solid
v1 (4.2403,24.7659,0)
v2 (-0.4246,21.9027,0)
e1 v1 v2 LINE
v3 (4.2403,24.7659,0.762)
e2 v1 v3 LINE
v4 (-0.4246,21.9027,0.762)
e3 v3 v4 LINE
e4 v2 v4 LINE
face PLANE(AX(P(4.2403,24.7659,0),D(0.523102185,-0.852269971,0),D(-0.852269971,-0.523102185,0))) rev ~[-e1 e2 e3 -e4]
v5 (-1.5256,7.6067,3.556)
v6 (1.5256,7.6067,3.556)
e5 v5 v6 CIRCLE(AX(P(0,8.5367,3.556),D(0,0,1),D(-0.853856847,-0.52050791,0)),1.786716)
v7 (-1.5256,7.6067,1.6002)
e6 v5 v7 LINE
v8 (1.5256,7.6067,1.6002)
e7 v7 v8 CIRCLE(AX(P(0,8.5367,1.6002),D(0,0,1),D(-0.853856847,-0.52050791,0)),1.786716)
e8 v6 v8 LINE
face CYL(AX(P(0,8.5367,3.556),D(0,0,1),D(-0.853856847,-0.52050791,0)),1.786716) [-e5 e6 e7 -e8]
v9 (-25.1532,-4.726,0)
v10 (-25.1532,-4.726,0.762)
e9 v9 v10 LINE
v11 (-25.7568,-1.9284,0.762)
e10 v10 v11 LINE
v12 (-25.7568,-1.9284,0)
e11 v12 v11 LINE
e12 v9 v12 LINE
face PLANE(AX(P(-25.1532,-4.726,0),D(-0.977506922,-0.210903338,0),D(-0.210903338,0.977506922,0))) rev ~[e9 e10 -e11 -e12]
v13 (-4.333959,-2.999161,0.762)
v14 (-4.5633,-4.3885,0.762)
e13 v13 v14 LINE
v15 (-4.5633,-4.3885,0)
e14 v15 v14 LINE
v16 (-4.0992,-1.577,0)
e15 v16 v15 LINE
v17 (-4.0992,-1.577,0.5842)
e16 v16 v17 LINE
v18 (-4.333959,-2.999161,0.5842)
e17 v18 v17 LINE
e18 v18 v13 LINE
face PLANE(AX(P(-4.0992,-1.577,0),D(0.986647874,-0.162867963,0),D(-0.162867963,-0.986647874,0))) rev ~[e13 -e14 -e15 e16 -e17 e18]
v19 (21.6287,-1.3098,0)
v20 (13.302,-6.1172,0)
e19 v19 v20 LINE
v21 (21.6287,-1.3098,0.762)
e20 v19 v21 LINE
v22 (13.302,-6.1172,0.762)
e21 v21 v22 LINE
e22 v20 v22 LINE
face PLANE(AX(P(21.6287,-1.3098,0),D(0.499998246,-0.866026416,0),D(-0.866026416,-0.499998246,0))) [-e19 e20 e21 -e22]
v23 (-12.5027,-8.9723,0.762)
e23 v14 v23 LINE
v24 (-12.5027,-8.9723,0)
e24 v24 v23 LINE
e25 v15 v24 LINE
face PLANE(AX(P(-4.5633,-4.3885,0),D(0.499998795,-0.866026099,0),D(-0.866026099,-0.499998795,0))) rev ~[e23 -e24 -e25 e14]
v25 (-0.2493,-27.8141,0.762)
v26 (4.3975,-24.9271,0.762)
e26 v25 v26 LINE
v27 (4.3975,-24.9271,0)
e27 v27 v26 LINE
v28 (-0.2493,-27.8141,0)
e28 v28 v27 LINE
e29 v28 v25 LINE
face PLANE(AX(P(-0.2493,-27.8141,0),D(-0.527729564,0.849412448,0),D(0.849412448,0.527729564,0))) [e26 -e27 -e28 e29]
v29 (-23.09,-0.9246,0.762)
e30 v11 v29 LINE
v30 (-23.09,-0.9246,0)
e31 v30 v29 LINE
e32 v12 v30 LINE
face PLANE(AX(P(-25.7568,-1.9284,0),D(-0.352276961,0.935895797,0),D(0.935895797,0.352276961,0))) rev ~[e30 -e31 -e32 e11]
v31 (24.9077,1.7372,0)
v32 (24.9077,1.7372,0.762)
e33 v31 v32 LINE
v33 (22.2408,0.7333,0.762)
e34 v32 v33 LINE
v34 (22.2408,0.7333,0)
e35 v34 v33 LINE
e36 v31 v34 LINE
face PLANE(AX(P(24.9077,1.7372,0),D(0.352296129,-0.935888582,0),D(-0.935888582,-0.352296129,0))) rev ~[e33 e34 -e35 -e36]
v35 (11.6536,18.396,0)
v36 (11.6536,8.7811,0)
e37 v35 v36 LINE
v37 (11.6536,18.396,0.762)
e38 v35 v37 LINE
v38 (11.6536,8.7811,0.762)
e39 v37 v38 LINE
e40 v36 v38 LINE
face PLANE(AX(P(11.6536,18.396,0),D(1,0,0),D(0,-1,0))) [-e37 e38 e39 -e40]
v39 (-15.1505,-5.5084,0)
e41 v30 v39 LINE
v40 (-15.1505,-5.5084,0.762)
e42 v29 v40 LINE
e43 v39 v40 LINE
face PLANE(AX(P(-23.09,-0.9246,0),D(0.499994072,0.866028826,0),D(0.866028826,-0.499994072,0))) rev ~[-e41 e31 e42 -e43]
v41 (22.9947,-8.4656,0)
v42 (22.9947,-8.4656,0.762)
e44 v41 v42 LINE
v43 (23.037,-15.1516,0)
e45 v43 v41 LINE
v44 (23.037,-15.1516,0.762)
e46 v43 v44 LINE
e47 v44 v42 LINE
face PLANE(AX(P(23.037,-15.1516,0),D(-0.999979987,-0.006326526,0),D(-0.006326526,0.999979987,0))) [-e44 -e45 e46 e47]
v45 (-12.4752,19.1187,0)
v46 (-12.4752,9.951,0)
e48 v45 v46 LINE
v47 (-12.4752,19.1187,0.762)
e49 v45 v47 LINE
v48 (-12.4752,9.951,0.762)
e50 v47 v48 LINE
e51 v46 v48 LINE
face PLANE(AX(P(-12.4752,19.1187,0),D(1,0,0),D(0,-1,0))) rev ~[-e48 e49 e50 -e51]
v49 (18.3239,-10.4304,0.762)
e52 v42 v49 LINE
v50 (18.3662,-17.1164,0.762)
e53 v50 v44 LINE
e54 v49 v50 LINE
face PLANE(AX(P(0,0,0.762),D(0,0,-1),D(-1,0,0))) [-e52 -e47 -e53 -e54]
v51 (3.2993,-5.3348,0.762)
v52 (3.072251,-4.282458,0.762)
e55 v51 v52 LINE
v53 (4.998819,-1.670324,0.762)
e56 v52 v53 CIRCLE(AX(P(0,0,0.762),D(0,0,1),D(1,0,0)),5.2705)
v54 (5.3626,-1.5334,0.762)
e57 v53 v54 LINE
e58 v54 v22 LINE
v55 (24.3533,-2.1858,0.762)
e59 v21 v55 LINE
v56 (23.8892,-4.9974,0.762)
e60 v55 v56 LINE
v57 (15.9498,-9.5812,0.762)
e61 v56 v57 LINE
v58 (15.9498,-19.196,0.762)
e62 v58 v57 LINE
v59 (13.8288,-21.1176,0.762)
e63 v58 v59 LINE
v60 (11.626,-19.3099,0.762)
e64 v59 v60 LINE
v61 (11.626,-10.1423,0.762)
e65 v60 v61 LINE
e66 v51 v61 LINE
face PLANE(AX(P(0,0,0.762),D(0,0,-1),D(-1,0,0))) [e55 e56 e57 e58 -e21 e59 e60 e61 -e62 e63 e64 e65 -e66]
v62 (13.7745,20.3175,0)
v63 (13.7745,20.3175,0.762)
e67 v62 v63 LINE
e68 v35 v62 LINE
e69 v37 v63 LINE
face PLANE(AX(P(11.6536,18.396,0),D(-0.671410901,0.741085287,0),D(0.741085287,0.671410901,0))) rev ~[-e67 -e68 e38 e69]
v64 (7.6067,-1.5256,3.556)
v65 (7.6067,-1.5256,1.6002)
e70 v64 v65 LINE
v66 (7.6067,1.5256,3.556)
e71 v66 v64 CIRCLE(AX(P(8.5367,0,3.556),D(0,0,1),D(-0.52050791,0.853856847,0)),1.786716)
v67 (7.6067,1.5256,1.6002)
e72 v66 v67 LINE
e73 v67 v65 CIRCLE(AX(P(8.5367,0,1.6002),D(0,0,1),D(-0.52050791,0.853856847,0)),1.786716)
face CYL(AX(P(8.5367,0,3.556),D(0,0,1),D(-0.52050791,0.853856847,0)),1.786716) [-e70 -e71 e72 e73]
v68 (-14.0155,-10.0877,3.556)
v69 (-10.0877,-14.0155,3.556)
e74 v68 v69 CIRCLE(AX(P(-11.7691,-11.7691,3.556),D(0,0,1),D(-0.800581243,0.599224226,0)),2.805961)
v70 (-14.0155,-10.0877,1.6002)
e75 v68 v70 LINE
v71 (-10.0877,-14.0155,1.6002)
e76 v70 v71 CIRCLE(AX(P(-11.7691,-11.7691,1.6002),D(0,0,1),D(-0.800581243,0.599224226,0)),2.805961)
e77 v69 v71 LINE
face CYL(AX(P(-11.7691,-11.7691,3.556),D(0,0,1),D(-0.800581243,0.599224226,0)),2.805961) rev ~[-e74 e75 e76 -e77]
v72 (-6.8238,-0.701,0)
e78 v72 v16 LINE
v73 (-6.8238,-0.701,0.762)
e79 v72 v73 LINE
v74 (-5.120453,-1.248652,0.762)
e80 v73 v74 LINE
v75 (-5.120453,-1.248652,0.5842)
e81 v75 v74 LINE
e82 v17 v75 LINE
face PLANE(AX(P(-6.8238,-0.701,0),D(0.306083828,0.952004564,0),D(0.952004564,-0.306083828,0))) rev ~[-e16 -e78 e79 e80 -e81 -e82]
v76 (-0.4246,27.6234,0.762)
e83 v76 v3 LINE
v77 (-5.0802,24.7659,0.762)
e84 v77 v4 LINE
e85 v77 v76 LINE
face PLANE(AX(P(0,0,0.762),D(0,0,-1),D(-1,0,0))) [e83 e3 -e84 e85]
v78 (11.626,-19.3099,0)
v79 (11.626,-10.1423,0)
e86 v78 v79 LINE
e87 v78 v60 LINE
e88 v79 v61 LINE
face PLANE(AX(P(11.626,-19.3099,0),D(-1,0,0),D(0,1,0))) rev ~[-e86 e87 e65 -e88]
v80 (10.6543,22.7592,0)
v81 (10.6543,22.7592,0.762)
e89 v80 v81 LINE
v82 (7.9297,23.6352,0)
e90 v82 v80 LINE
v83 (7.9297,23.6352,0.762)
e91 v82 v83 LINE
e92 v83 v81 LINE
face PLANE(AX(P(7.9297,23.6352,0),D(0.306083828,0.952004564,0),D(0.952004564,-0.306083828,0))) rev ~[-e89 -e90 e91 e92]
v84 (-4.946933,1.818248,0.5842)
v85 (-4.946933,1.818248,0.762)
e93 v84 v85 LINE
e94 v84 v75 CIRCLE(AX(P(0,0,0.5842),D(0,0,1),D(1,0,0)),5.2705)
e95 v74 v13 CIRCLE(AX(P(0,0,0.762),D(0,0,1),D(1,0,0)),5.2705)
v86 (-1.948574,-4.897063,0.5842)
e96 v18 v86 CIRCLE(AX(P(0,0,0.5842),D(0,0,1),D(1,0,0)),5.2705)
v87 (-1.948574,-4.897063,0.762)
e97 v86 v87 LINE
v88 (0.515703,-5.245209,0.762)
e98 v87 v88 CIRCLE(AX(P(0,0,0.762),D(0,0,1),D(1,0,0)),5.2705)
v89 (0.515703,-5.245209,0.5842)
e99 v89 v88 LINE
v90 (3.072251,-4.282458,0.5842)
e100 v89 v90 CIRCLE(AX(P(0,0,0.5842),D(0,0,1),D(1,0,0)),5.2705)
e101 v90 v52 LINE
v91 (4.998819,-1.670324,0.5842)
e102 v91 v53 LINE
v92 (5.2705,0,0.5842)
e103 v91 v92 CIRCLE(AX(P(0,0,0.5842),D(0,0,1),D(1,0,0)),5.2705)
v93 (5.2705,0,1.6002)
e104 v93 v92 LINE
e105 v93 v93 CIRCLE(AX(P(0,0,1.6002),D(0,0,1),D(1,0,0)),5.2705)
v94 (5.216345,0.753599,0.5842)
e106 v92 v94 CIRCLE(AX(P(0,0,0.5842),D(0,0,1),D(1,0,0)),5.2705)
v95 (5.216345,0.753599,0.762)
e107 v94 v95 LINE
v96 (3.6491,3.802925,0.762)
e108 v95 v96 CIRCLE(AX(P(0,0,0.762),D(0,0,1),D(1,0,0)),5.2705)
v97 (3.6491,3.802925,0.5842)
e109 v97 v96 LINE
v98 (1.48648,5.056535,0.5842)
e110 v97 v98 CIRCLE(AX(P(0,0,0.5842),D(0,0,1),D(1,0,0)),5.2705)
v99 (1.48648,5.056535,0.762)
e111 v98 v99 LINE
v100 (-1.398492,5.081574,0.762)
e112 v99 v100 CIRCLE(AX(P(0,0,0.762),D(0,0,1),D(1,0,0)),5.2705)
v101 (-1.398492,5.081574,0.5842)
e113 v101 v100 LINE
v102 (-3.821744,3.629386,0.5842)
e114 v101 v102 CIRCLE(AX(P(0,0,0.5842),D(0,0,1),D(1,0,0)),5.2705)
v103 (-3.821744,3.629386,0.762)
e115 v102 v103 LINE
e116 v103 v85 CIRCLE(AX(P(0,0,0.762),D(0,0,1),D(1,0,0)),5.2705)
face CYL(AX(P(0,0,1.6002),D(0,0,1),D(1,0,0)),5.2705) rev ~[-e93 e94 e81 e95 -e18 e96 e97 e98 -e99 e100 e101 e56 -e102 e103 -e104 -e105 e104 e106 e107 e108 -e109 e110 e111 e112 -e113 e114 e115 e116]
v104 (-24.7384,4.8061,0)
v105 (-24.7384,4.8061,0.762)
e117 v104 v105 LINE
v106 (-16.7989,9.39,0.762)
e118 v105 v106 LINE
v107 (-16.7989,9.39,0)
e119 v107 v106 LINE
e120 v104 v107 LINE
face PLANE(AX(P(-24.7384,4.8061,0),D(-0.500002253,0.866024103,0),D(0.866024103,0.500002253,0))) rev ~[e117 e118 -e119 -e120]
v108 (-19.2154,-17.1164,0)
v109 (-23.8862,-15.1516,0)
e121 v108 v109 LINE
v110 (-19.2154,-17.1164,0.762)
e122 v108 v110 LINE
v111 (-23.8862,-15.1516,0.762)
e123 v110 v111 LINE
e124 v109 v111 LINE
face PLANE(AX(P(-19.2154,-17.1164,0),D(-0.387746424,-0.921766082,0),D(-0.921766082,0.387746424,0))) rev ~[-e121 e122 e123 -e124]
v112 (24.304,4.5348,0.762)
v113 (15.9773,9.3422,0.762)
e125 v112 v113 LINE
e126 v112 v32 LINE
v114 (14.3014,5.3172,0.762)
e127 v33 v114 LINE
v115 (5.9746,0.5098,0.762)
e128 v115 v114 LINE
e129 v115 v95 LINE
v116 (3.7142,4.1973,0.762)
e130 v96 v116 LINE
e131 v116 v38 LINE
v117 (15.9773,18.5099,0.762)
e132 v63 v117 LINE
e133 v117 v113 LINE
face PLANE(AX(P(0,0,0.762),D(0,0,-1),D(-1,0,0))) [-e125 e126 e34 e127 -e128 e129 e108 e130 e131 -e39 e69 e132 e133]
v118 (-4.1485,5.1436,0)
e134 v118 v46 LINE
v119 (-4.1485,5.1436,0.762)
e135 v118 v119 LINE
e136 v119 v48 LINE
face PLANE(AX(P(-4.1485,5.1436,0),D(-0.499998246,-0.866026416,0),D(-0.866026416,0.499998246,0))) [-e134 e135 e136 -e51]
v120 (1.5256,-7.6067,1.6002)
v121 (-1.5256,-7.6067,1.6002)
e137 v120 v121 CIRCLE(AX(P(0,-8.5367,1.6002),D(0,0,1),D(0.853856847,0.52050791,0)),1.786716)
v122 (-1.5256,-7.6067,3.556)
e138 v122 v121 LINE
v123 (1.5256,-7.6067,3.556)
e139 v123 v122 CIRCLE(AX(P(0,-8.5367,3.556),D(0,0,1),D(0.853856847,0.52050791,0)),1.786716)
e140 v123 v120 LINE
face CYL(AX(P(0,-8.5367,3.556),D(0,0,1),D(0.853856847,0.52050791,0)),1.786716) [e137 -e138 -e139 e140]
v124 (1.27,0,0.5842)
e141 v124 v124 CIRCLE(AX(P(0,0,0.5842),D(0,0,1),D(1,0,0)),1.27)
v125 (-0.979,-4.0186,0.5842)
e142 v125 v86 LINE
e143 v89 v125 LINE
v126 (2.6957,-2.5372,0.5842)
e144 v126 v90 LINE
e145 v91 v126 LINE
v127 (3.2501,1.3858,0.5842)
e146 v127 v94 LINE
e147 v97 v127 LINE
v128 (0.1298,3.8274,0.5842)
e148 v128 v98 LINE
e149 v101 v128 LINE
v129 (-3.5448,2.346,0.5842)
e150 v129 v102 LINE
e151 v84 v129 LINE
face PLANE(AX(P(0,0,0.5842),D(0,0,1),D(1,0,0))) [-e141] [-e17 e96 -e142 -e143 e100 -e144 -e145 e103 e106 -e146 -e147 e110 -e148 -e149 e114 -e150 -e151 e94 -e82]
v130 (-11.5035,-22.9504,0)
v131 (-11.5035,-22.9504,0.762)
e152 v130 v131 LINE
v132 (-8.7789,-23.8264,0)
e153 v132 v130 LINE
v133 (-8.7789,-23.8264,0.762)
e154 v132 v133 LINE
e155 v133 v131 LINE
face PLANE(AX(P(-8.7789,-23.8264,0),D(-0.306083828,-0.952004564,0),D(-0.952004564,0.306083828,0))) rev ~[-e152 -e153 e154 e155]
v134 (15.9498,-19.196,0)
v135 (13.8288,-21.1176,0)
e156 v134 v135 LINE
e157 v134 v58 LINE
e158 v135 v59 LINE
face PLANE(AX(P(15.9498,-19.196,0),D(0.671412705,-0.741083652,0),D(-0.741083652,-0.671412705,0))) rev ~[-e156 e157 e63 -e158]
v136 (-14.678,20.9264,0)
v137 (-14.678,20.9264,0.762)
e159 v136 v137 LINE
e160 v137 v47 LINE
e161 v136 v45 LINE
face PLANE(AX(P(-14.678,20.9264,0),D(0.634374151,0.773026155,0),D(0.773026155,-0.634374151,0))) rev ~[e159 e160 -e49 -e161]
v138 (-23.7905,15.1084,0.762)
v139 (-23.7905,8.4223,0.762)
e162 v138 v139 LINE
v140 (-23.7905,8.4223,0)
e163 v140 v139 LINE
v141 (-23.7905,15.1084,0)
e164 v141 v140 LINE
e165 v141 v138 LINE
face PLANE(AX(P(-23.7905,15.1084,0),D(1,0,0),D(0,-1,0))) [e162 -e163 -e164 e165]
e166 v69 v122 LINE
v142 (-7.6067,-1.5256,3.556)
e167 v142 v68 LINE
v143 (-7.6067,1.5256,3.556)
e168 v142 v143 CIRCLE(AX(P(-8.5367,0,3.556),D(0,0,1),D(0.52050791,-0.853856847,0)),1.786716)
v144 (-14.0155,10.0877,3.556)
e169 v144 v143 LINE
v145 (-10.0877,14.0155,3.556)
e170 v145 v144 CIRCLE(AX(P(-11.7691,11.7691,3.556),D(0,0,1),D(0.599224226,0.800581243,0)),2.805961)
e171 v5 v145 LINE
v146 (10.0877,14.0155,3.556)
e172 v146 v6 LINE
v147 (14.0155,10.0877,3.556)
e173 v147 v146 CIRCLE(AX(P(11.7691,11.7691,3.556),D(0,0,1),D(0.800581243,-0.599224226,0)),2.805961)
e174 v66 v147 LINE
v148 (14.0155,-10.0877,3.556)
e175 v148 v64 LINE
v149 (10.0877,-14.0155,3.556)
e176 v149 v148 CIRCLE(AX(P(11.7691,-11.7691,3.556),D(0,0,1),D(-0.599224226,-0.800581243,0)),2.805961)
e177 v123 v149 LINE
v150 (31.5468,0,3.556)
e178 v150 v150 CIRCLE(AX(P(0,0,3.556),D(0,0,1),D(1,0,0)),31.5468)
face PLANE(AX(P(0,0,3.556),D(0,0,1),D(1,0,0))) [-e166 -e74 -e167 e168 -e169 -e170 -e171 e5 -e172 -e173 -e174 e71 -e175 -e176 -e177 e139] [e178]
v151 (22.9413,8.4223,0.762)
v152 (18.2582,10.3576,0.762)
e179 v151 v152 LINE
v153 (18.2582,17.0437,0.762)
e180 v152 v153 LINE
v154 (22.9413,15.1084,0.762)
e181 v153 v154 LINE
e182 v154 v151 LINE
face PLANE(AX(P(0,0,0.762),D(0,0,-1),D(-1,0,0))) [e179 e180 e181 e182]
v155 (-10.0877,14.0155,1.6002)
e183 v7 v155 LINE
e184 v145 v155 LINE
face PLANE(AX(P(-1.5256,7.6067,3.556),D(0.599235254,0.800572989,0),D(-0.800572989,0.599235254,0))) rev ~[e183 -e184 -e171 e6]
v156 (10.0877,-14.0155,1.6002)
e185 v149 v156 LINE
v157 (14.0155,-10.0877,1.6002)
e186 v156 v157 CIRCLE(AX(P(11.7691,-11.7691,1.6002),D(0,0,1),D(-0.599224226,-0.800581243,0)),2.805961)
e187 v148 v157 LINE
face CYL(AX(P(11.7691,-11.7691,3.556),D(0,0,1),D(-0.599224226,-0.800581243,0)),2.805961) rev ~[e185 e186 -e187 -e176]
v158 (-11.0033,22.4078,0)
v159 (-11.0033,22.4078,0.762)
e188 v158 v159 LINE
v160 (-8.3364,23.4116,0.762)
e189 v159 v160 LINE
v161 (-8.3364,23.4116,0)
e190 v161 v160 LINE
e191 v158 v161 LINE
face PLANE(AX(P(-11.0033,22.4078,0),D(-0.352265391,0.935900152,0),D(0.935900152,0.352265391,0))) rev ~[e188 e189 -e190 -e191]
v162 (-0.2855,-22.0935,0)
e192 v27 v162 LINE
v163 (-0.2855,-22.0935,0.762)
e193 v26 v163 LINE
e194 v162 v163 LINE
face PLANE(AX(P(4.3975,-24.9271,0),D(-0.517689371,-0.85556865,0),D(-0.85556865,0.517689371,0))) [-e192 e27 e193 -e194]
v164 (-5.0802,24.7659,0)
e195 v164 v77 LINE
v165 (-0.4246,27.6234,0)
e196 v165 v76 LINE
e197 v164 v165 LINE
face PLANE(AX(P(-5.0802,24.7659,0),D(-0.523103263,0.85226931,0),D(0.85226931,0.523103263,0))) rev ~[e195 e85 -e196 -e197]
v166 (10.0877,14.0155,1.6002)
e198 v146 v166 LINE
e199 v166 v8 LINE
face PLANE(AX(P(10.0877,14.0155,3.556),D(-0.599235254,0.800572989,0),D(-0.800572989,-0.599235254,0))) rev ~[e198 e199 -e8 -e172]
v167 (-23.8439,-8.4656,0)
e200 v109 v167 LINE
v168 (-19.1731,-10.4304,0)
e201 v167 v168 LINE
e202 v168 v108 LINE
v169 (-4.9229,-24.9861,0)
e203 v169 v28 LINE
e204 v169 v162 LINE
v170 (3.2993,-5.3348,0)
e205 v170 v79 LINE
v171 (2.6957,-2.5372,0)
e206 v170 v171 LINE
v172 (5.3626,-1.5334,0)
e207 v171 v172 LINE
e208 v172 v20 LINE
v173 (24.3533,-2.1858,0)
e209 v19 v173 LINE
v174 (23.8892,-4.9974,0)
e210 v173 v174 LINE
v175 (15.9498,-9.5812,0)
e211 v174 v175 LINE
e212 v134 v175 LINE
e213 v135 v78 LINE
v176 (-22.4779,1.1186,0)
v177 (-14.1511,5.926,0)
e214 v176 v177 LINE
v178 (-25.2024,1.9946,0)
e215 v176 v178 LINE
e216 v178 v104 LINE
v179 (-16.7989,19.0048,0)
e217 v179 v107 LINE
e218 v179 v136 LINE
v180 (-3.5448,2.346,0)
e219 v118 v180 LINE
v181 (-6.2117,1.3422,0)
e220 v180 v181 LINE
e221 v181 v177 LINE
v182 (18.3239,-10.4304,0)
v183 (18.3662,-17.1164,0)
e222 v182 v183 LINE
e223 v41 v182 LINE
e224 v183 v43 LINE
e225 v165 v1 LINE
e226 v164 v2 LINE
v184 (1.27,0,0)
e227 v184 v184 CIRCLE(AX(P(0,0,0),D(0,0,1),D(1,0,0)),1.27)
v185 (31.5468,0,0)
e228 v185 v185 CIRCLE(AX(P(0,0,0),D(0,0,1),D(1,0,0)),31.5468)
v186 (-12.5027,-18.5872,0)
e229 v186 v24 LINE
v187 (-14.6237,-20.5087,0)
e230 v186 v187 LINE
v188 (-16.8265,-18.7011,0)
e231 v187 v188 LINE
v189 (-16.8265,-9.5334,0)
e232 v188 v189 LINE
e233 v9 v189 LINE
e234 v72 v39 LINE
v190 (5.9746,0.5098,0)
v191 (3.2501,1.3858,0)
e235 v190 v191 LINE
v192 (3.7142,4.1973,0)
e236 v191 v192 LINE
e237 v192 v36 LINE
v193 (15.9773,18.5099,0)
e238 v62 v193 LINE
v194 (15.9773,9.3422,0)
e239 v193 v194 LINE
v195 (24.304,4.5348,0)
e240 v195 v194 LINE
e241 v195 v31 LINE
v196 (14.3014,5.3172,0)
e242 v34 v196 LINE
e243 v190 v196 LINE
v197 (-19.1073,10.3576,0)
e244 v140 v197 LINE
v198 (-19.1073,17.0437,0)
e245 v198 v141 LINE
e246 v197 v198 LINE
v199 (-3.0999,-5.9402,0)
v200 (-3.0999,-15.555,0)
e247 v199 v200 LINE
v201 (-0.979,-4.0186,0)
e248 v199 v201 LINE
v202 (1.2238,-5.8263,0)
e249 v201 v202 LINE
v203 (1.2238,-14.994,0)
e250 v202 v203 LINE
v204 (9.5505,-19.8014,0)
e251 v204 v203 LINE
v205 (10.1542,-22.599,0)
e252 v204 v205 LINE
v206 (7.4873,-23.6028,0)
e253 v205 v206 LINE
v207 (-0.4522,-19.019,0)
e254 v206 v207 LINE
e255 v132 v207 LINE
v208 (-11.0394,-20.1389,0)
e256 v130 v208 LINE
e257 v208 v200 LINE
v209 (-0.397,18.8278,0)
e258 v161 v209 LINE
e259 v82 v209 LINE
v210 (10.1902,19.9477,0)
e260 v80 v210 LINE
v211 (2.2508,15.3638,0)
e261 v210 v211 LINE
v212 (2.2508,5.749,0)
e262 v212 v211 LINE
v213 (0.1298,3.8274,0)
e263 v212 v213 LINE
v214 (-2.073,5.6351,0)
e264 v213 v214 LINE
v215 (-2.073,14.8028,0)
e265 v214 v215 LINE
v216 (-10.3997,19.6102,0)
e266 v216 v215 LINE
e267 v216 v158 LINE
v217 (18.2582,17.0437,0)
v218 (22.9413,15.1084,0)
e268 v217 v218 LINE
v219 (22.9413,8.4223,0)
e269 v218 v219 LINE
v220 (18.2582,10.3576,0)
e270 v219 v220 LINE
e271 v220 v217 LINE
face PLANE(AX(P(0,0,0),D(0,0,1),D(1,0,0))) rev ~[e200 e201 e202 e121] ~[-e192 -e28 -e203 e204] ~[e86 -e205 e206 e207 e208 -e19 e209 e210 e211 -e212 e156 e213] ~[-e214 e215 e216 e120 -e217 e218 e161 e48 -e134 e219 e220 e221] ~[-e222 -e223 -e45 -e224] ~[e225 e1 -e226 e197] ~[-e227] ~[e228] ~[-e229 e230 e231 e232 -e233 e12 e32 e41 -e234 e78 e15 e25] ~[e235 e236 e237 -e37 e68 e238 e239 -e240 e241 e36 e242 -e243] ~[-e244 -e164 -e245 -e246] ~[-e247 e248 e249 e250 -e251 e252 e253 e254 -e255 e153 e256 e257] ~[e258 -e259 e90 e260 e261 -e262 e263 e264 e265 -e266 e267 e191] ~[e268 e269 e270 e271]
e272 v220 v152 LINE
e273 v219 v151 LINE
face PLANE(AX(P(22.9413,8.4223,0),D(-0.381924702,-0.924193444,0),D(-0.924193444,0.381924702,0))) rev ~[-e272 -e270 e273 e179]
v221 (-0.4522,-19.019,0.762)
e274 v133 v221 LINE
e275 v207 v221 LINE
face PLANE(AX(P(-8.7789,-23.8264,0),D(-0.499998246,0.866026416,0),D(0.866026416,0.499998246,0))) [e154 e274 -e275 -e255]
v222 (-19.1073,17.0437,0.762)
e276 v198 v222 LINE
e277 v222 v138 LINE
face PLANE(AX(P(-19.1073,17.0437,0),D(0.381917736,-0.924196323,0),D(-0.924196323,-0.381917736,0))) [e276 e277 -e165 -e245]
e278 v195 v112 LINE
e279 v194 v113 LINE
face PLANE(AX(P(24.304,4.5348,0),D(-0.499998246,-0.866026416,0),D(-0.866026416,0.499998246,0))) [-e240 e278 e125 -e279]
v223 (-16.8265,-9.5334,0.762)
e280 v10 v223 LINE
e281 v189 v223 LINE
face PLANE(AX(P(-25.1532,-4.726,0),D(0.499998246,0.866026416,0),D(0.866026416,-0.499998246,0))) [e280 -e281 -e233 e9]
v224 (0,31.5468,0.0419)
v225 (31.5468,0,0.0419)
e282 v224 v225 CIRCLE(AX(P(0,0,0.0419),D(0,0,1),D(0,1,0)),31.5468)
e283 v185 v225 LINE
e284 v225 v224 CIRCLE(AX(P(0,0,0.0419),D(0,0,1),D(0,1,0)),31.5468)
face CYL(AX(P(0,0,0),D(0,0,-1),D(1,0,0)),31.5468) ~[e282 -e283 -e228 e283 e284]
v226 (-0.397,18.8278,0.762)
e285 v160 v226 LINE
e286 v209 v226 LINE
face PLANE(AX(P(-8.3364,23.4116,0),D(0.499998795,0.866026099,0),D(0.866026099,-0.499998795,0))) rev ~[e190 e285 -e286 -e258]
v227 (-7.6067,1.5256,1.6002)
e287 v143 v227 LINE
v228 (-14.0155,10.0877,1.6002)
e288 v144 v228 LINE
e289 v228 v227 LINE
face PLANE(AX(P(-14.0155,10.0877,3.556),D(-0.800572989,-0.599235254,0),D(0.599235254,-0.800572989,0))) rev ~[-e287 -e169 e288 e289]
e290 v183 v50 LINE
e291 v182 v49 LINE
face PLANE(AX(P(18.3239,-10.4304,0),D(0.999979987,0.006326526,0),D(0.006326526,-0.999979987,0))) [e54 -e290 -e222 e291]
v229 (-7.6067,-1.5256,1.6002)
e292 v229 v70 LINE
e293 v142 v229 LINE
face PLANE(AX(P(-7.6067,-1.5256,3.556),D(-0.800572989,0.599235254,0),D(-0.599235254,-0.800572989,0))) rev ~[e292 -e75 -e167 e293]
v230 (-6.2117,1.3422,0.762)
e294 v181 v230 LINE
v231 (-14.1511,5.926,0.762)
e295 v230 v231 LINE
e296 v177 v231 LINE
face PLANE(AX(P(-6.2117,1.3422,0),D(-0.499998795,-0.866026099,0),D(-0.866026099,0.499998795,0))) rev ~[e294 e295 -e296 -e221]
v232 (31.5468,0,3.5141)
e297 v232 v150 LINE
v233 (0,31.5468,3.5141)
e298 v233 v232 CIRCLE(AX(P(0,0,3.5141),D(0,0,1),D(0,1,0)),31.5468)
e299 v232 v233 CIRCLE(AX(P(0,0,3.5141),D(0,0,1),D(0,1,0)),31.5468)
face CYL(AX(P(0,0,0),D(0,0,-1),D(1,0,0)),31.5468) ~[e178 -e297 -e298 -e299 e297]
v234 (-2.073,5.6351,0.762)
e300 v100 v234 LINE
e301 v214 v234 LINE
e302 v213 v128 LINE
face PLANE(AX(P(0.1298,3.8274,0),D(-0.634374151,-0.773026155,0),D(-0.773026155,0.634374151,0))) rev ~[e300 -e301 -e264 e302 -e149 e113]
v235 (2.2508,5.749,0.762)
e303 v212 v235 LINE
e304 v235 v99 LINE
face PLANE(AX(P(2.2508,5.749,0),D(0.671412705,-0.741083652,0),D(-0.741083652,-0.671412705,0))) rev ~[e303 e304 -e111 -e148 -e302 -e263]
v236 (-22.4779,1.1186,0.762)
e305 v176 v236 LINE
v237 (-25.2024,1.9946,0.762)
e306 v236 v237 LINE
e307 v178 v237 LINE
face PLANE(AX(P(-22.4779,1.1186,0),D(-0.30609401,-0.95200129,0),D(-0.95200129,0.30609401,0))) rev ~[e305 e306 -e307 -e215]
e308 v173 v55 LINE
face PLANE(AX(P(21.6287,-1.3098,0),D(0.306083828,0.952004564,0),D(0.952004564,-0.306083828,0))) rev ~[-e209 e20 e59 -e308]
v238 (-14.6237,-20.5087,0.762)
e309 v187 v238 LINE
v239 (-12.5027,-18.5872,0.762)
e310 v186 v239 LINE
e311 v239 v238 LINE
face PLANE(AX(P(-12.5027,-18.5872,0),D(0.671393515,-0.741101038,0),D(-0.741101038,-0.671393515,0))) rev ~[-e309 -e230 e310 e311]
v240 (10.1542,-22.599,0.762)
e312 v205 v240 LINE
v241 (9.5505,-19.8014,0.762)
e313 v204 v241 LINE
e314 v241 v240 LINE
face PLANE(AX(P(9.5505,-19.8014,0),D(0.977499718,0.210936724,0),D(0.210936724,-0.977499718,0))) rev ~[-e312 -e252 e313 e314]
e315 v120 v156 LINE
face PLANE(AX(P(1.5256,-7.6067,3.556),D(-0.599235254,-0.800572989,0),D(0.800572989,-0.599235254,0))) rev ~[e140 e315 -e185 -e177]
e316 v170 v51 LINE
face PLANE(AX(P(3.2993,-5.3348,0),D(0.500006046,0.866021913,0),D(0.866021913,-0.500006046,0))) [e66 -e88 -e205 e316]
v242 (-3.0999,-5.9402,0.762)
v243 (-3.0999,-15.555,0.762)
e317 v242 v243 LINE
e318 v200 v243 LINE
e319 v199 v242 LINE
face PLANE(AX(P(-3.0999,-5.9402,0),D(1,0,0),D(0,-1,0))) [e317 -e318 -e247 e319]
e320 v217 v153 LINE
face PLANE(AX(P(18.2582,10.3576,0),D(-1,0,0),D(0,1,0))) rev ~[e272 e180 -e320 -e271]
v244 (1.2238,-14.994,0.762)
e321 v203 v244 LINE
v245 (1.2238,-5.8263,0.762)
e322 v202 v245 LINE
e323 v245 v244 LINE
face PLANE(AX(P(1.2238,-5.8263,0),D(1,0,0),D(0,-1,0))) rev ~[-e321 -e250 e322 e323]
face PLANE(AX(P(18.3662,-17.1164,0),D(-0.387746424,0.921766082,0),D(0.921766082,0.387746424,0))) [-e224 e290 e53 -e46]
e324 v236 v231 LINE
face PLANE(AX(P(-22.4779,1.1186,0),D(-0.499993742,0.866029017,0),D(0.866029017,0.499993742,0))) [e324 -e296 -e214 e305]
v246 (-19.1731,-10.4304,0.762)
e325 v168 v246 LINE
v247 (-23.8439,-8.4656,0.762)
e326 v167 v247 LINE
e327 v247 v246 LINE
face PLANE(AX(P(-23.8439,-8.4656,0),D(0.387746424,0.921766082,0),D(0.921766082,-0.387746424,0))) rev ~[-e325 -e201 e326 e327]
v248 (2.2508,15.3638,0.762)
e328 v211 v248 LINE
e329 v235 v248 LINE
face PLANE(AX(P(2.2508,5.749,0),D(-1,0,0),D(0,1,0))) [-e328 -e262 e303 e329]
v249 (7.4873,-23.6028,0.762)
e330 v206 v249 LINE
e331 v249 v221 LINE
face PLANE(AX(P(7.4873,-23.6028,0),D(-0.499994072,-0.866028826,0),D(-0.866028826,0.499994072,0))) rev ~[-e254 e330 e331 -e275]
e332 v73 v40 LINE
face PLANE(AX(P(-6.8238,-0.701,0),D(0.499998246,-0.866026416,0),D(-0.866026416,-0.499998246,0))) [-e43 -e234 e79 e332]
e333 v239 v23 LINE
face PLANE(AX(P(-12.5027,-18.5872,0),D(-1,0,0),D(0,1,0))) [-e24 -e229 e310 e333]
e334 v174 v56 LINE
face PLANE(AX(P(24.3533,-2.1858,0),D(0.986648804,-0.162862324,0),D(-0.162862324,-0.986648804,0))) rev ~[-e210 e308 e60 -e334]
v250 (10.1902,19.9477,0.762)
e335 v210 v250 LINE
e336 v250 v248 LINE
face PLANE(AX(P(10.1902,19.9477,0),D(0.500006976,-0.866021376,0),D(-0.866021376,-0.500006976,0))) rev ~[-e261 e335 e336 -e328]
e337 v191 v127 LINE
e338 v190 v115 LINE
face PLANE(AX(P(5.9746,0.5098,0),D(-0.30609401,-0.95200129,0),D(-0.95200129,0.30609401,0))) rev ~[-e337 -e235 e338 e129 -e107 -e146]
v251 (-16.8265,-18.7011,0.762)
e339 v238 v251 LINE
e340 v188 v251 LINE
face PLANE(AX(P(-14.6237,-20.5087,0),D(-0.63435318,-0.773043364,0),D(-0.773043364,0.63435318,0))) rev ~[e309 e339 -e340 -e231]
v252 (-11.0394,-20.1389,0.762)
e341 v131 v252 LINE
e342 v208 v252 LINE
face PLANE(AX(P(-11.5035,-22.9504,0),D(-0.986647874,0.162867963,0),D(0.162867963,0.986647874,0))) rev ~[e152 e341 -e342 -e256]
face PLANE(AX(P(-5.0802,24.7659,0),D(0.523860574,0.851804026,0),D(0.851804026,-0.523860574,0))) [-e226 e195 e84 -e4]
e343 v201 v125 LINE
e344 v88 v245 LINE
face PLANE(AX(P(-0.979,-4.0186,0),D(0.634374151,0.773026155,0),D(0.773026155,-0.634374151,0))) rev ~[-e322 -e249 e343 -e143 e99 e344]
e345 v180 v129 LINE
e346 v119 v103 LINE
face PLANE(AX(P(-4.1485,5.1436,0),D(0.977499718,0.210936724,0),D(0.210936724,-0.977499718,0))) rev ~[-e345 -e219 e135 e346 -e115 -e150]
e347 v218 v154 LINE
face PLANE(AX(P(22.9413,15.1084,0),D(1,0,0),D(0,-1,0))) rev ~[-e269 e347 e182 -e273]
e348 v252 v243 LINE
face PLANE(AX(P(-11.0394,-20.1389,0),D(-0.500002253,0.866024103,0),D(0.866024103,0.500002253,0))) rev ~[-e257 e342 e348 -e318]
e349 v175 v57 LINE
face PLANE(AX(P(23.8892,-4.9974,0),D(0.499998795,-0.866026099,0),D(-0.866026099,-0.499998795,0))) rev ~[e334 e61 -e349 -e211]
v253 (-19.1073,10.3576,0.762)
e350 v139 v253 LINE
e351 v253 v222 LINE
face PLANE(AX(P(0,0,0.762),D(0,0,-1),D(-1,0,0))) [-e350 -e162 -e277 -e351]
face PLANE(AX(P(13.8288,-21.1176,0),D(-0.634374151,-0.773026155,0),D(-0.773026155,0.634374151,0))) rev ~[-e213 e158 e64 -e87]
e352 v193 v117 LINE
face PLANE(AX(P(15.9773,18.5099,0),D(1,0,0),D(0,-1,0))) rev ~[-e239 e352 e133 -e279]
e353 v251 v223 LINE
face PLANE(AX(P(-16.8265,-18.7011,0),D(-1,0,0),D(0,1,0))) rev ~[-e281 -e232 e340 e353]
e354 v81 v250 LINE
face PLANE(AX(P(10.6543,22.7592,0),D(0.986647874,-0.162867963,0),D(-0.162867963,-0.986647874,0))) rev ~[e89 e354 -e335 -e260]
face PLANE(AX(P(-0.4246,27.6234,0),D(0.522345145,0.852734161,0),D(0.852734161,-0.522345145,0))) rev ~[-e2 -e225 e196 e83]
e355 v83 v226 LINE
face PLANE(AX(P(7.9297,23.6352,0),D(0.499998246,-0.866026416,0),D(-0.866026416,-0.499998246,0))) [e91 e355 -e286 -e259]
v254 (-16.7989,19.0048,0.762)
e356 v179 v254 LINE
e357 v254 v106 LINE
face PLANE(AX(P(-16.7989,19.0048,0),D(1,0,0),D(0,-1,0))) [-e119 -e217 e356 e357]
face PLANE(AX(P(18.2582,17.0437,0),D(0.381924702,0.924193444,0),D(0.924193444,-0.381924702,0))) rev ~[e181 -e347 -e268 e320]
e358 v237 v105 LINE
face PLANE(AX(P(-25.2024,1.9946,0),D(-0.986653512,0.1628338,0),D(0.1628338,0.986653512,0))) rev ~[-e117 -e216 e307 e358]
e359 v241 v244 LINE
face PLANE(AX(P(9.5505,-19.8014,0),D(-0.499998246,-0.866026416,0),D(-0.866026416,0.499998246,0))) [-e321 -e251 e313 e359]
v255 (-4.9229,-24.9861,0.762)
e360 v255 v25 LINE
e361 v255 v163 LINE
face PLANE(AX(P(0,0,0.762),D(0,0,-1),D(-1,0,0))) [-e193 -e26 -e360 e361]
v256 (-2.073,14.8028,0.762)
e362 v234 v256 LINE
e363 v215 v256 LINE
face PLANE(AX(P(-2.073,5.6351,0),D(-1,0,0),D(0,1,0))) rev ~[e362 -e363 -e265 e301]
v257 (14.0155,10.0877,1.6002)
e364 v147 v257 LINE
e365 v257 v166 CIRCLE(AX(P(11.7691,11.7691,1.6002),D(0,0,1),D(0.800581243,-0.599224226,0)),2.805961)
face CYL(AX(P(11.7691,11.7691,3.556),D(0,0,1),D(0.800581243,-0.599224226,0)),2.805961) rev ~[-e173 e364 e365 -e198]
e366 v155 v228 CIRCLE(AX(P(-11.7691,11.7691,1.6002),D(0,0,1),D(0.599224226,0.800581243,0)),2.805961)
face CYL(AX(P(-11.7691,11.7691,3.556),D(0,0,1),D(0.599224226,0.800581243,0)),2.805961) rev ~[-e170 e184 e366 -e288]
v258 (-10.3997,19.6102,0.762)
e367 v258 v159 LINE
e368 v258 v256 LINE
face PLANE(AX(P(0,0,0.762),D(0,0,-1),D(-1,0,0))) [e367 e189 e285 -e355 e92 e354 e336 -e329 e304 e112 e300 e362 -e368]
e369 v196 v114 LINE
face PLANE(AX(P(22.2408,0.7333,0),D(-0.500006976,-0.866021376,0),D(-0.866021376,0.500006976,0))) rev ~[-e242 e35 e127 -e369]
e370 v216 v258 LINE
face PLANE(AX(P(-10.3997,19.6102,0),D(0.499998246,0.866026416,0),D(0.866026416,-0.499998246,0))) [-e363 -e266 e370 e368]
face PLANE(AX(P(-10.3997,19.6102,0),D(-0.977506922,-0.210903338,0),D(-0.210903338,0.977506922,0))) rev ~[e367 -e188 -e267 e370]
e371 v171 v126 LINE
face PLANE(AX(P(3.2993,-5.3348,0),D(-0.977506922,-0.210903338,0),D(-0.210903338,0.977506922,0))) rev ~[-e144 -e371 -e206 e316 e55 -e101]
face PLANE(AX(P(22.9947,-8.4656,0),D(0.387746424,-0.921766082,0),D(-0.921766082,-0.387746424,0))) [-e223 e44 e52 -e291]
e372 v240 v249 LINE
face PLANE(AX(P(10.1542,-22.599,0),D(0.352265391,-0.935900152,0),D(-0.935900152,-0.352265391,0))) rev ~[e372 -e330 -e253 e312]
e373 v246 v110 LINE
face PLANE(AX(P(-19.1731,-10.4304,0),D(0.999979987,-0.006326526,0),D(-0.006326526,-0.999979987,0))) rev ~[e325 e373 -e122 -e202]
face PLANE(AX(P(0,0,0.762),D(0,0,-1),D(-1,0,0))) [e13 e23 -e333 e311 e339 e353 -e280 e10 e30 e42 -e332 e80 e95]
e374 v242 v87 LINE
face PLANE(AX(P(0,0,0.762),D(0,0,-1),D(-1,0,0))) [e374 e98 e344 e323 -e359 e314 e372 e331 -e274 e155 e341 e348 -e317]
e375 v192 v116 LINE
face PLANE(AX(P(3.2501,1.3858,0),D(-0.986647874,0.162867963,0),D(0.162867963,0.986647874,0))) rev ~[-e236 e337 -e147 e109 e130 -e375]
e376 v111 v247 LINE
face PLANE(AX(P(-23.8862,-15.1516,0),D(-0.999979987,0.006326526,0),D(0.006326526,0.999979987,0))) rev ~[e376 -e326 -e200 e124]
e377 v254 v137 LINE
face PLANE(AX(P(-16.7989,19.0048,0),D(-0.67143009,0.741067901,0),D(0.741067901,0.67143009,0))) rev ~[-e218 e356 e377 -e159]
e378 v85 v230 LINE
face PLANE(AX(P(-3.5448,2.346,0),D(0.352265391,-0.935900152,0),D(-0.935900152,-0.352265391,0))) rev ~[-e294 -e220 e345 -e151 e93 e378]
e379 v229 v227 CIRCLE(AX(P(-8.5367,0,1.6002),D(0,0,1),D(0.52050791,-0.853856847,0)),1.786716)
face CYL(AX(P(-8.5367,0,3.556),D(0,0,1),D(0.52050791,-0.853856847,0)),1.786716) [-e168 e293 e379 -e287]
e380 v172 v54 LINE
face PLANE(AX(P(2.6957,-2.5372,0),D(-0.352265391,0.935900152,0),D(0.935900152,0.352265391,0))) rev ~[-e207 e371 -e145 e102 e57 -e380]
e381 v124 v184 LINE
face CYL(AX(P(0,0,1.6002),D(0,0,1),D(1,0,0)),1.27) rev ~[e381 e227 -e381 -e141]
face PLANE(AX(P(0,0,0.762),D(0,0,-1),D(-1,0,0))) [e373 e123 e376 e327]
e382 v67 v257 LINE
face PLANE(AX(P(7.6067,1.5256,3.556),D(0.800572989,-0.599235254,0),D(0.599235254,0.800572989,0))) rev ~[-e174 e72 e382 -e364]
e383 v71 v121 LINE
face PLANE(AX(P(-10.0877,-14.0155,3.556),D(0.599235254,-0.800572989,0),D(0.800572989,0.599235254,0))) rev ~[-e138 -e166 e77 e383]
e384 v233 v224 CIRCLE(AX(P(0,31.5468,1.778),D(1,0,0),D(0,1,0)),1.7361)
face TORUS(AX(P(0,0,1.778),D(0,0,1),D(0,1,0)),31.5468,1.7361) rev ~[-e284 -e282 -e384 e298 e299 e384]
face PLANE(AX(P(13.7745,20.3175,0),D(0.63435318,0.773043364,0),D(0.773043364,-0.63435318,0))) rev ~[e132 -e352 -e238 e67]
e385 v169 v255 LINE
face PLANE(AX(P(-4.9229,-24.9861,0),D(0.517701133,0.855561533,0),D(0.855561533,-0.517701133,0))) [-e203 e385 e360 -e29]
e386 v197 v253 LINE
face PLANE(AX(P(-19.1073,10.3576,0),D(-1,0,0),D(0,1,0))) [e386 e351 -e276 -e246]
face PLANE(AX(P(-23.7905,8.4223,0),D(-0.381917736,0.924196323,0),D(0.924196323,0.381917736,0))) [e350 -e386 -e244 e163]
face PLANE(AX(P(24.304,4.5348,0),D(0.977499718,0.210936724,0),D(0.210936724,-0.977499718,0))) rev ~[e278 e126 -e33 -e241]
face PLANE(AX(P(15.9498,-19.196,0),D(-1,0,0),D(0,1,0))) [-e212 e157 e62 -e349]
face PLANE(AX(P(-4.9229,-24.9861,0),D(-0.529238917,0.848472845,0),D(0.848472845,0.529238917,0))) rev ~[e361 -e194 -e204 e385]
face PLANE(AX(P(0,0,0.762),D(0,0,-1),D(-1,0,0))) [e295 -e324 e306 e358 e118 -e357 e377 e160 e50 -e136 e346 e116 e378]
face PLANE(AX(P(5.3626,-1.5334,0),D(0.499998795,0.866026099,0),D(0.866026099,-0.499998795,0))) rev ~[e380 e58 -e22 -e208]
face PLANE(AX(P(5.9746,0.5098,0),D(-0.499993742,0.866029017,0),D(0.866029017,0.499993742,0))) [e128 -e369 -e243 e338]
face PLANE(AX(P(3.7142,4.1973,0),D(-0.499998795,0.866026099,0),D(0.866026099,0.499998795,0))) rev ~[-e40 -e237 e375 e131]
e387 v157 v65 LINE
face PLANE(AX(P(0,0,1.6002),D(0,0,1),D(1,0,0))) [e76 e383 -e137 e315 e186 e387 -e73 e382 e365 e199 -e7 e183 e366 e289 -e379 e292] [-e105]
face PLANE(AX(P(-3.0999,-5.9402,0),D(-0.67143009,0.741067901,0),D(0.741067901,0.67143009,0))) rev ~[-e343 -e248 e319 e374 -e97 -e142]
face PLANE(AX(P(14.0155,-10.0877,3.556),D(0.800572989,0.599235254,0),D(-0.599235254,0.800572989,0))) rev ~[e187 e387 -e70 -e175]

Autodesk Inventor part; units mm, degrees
ref_plane "YZ Plane" through (0, 0, 0) normal (1, 0, 0) x (0, 1, 0)
ref_plane "XZ Plane" through (0, 0, 0) normal (0, 1, 0) x (-1, 0, 0)
ref_plane "XY Plane" through (0, 0, 0) normal (0, 0, 1) x (1, 0, 0)
sketch "Sketch1" plane through (0, 0, 0) normal (0, 0, 1) x (1, 0, 0)
  circle A0 centre (0, 0) radius 31.5468
  dimension "d0" = 63.0936
extrude "Extrusion1" add sketch "Sketch1" along normal blind 3.556
sketch "Sketch5" plane through (0, 0, 3.556) normal (0, 0, 1) x (1, 0, 0)
  arc A0 (1.5256, -7.6067) -> (-1.5256, -7.6067) centre (0, -8.5367) ccw
  line L0 (1.5256, -7.6067) -> (10.0877, -14.0155)
  arc A1 (10.0877, -14.0155) -> (14.0155, -10.0877) centre (11.7691, -11.7691) ccw
  line L1 (14.0155, -10.0877) -> (7.6067, -1.5256)
  arc A2 (7.6067, 1.5256) -> (7.6067, -1.5256) centre (8.5367, 0) ccw
  line L2 (7.6067, 1.5256) -> (14.0155, 10.0877)
  arc A3 (14.0155, 10.0877) -> (10.0877, 14.0155) centre (11.7691, 11.7691) ccw
  line L3 (10.0877, 14.0155) -> (1.5256, 7.6067)
  arc A4 (-1.5256, 7.6067) -> (1.5256, 7.6067) centre (0, 8.5367) ccw
  line L4 (-1.5256, 7.6067) -> (-10.0877, 14.0155)
  arc A5 (-10.0877, 14.0155) -> (-14.0155, 10.0877) centre (-11.7691, 11.7691) ccw
  line L5 (-14.0155, 10.0877) -> (-7.6067, 1.5256)
  arc A6 (-7.6067, -1.5256) -> (-7.6067, 1.5256) centre (-8.5367, 0) ccw
  line L6 (-7.6067, -1.5256) -> (-14.0155, -10.0877)
  arc A7 (-14.0155, -10.0877) -> (-10.0877, -14.0155) centre (-11.7691, -11.7691) ccw
  line L7 (-10.0877, -14.0155) -> (-1.5256, -7.6067)
  circle A8 centre (12.339, -12.339) radius 0.75
  circle A9 centre (9.8641, -9.8641) radius 0.75
  circle A10 centre (7.3893, -7.3893) radius 0.75
  circle A11 centre (4.9144, -4.9144) radius 0.75
  circle A12 centre (12.339, 12.339) radius 0.75
  circle A13 centre (9.8641, 9.8641) radius 0.75
  circle A14 centre (7.3893, 7.3893) radius 0.75
  circle A15 centre (4.9144, 4.9144) radius 0.75
  circle A16 centre (-12.339, 12.339) radius 0.75
  circle A17 centre (-9.8641, 9.8641) radius 0.75
  circle A18 centre (-7.3893, 7.3893) radius 0.75
  circle A19 centre (-4.9144, 4.9144) radius 0.75
  circle A20 centre (-12.339, -12.339) radius 0.75
  circle A21 centre (-9.8641, -9.8641) radius 0.75
  circle A22 centre (-7.3893, -7.3893) radius 0.75
  circle A23 centre (-4.9144, -4.9144) radius 0.75
  circle A24 centre (0, 0) radius 3.6
extrude "Extrusion4" cut sketch "Sketch5" against normal blind 1.9558 contours A0 L7 A7 L6 A6 L5 A5 L4 A4 L3 A3 L2 A2 L1 A1 L0 | A8 | A9 | A10 | A11 | A12 | A13 | A14 | A15 | A16 | A17 | A18 | A19 | A20 | A21 | A22 | A23 | A24
sketch "Sketch6" plane through (0, 0, 0) normal (0, 1, 0) x (-1, 0, 0)
  point P0 (0, 0)
sketch "Sketch7" plane through (0, 0, 0) normal (0, 1, 0) x (-1, 0, 0)
  point P0 (0, 0)
sketch "Sketch8" plane through (0, 0, 0) normal (1, 0, 0) x (0, 1, 0)
  line L0 (31.5468, 0) -> (31.5468, 3.556) projected
  circle A0 centre (31.5468, 1.778) radius 1.7361
  line L1 (0, 0) -> (0, 3.556)
  line L2 (31.5468, 3.556) -> (-31.5468, 3.556) projected
revolve "Revolution1" cut sketch "Sketch8" angle 360 about axis through (0, 0, 0) along (0, 0, 1)
sketch "Sketch9" plane through (0, 0, 1.6002) normal (0, 0, 1) x (1, 0, 0)
  circle A0 centre (0, 0) radius 1.27
  circle A1 centre (0, 0) radius 5.2705
extrude "Extrusion5" cut sketch "Sketch9" along normal mid plane 25.4 contours A0
sketch "Sketch10" plane through (0, 0, 3.556) normal (0, 0, 1) x (1, 0, 0)
  point P0 (0, 0)
sketch "Sketch11" plane through (0, 0, 1.6002) normal (0, 0, 1) x (1, 0, 0)
  circle A0 centre (0, 0) radius 5.2705
extrude "Extrusion6" cut sketch "Sketch11" against normal blind 1.016
sketch "Sketch13" plane through (0, 0, 0) normal (0, 0, -1) x (-1, 0, 0)
  circle A0 centre (0, 0) radius 29.8107 projected
  line L0 (23.7905, 8.4223) -> (19.1073, 10.3576)
  line L1 (19.1073, 10.3576) -> (19.1073, 17.0437)
  line L2 (19.1073, 17.0437) -> (23.7905, 15.1084)
  line L3 (23.7905, 15.1084) -> (23.7905, 8.4223)
  line L4 (16.7989, 19.0048) -> (14.678, 20.9264)
  line L5 (14.678, 20.9264) -> (12.4752, 19.1187)
  line L6 (12.4752, 19.1187) -> (12.4752, 9.951)
  line L7 (16.7989, 19.0048) -> (16.7989, 9.39)
  line L8 (29.8101, -0.1885) -> (-29.8107, 0) construction
  line L9 (29.8101, -0.1885) -> (-29.8107, 0) construction
  line L10 (4.1485, 5.1436) -> (12.4752, 9.951)
  line L11 (6.2117, 1.3422) -> (14.1511, 5.926)
  line L12 (3.5448, 2.346) -> (6.2117, 1.3422)
  line L13 (4.1485, 5.1436) -> (3.5448, 2.346)
  line L14 (22.4779, 1.1186) -> (14.1511, 5.926)
  line L15 (24.7384, 4.8061) -> (16.7989, 9.39)
  line L16 (25.2024, 1.9946) -> (24.7384, 4.8061)
  line L17 (22.4779, 1.1186) -> (25.2024, 1.9946)
  line L18 (-22.9413, 8.4223) -> (-18.2582, 10.3576)
  line L19 (-18.2582, 10.3576) -> (-18.2582, 17.0437)
  line L20 (-18.2582, 17.0437) -> (-22.9413, 15.1084)
  line L21 (-22.9413, 15.1084) -> (-22.9413, 8.4223)
  line L22 (-18.3239, -10.4304) -> (-18.3662, -17.1164)
  line L23 (-18.3662, -17.1164) -> (-23.037, -15.1516)
  line L24 (-23.037, -15.1516) -> (-22.9947, -8.4656)
  line L25 (-22.9947, -8.4656) -> (-18.3239, -10.4304)
  line L26 (19.1731, -10.4304) -> (19.2154, -17.1164)
  line L27 (23.8439, -8.4656) -> (19.1731, -10.4304)
  line L28 (23.8862, -15.1516) -> (23.8439, -8.4656)
  line L29 (19.2154, -17.1164) -> (23.8862, -15.1516)
  line L30 (5.0802, 24.7659) -> (0.4246, 27.6234)
  line L31 (-4.2403, 24.7659) -> (0.4246, 21.9027)
  line L32 (5.0802, 24.7659) -> (0.4246, 21.9027)
  line L33 (0.4246, 27.6234) -> (-4.2403, 24.7659)
  line L34 (4.9229, -24.9861) -> (0.2493, -27.8141)
  line L35 (-4.3975, -24.9271) -> (0.2855, -22.0935)
  line L36 (4.9229, -24.9861) -> (0.2855, -22.0935)
  line L37 (0.2493, -27.8141) -> (-4.3975, -24.9271)
  line L38 (-10.6543, 22.7592) -> (-10.1902, 19.9477)
  line L39 (-7.9297, 23.6352) -> (-10.6543, 22.7592)
  line L40 (-10.1902, 19.9477) -> (-2.2508, 15.3638)
  line L41 (-7.9297, 23.6352) -> (0.397, 18.8278)
  line L42 (-2.2508, 5.749) -> (-0.1298, 3.8274)
  line L43 (-0.1298, 3.8274) -> (2.073, 5.6351)
  line L44 (15.1978, 25.3066) -> (-14.7759, -26.2323) construction
  line L45 (15.1978, 25.3066) -> (-14.7759, -26.2323) construction
  line L46 (-2.2508, 5.749) -> (-2.2508, 15.3638)
  line L47 (2.073, 5.6351) -> (2.073, 14.8028)
  line L48 (10.3997, 19.6102) -> (2.073, 14.8028)
  line L49 (10.3997, 19.6102) -> (11.0033, 22.4078)
  line L50 (8.3364, 23.4116) -> (0.397, 18.8278)
  line L51 (11.0033, 22.4078) -> (8.3364, 23.4116)
  line L52 (-24.9077, 1.7372) -> (-22.2408, 0.7333)
  line L53 (-24.304, 4.5348) -> (-24.9077, 1.7372)
  line L54 (-22.2408, 0.7333) -> (-14.3014, 5.3172)
  line L55 (-24.304, 4.5348) -> (-15.9773, 9.3422)
  line L56 (-5.9746, 0.5098) -> (-3.2501, 1.3858)
  line L57 (-3.2501, 1.3858) -> (-3.7142, 4.1973)
  line L58 (-14.1877, 25.3995) -> (15.4594, -26.328) construction
  line L59 (-14.1877, 25.3995) -> (15.4594, -26.328) construction
  line L60 (-5.9746, 0.5098) -> (-14.3014, 5.3172)
  line L61 (-3.7142, 4.1973) -> (-11.6536, 8.7811)
  line L62 (-11.6536, 18.396) -> (-11.6536, 8.7811)
  line L63 (-11.6536, 18.396) -> (-13.7745, 20.3175)
  line L64 (-15.9773, 18.5099) -> (-15.9773, 9.3422)
  line L65 (-13.7745, 20.3175) -> (-15.9773, 18.5099)
  line L66 (-13.8288, -21.1176) -> (-11.626, -19.3099)
  line L67 (-15.9498, -19.196) -> (-13.8288, -21.1176)
  line L68 (-11.626, -19.3099) -> (-11.626, -10.1423)
  line L69 (-15.9498, -19.196) -> (-15.9498, -9.5812)
  line L70 (-3.2993, -5.3348) -> (-2.6957, -2.5372)
  line L71 (-2.6957, -2.5372) -> (-5.3626, -1.5334)
  line L72 (-28.961, -0.0027) -> (30.6599, -0.1912) construction
  line L73 (-28.961, -0.0027) -> (30.6599, -0.1912) construction
  line L74 (-3.2993, -5.3348) -> (-11.626, -10.1423)
  line L75 (-5.3626, -1.5334) -> (-13.302, -6.1172)
  line L76 (-21.6287, -1.3098) -> (-13.302, -6.1172)
  line L77 (-21.6287, -1.3098) -> (-24.3533, -2.1858)
  line L78 (-23.8892, -4.9974) -> (-15.9498, -9.5812)
  line L79 (-24.3533, -2.1858) -> (-23.8892, -4.9974)
  line L80 (11.5035, -22.9504) -> (11.0394, -20.1389)
  line L81 (8.7789, -23.8264) -> (11.5035, -22.9504)
  line L82 (11.0394, -20.1389) -> (3.0999, -15.555)
  line L83 (8.7789, -23.8264) -> (0.4522, -19.019)
  line L84 (3.0999, -5.9402) -> (0.979, -4.0186)
  line L85 (0.979, -4.0186) -> (-1.2238, -5.8263)
  line L86 (-14.3487, -25.4978) -> (15.625, 26.0411) construction
  line L87 (-14.3487, -25.4978) -> (15.625, 26.0411) construction
  line L88 (3.0999, -5.9402) -> (3.0999, -15.555)
  line L89 (-1.2238, -5.8263) -> (-1.2238, -14.994)
  line L90 (-9.5505, -19.8014) -> (-1.2238, -14.994)
  line L91 (-9.5505, -19.8014) -> (-10.1542, -22.599)
  line L92 (-7.4873, -23.6028) -> (0.4522, -19.019)
  line L93 (-10.1542, -22.599) -> (-7.4873, -23.6028)
  line L94 (25.7568, -1.9284) -> (23.09, -0.9246)
  line L95 (25.1532, -4.726) -> (25.7568, -1.9284)
  line L96 (23.09, -0.9246) -> (15.1505, -5.5084)
  line L97 (25.1532, -4.726) -> (16.8265, -9.5334)
  line L98 (6.8238, -0.701) -> (4.0992, -1.577)
  line L99 (4.0992, -1.577) -> (4.5633, -4.3885)
  line L100 (15.0369, -25.5907) -> (-14.6103, 26.1367) construction
  line L101 (15.0369, -25.5907) -> (-14.6103, 26.1367) construction
  line L102 (6.8238, -0.701) -> (15.1505, -5.5084)
  line L103 (4.5633, -4.3885) -> (12.5027, -8.9723)
  line L104 (12.5027, -18.5872) -> (12.5027, -8.9723)
  line L105 (12.5027, -18.5872) -> (14.6237, -20.5087)
  line L106 (16.8265, -18.7011) -> (16.8265, -9.5334)
  line L107 (14.6237, -20.5087) -> (16.8265, -18.7011)
  point P0 (14.4751, 8.4223)
  point P1 (14.4751, -8.932)
  point P2 (0.4246, -0.0956)
  point P3 (0.0731, 16.3314)
  point P4 (0.4246, -0.0956)
  point P5 (-13.9774, 7.8135)
  point P6 (0.4246, -0.0956)
  point P7 (-13.6259, -8.6136)
  point P8 (0.4246, -0.0956)
  point P9 (0.7761, -16.5227)
  point P10 (0.4246, -0.0956)
  point P11 (14.8266, -8.0047)
extrude "Extrusion7" cut sketch "Sketch13" against normal blind 0.762 contours L0 L1 L2 L3 | L7 L15 L16 L17 L14 L11 L12 L13 L10 L6 L5 L4 | L21 L20 L19 L18 | L22 L23 L24 L25 | L27 L28 L29 L26 | L32 L31 L33 L30 | L34 L37 L35 L36 | L39 L41 L50 L51 L49 L48 L47 L43 L42 L46 L40 L38 | L53 L55 L64 L65 L63 L62 L61 L57 L56 L60 L54 L52 | L67 L69 L78 L79 L77 L76 L75 L71 L70 L74 L68 L66 | L81 L83 L92 L93 L91 L90 L89 L85 L84 L88 L82 L80 | L95 L97 L106 L107 L105 L104 L103 L99 L98 L102 L96 L94
properties part number "Aidan Sherry Wheel"
